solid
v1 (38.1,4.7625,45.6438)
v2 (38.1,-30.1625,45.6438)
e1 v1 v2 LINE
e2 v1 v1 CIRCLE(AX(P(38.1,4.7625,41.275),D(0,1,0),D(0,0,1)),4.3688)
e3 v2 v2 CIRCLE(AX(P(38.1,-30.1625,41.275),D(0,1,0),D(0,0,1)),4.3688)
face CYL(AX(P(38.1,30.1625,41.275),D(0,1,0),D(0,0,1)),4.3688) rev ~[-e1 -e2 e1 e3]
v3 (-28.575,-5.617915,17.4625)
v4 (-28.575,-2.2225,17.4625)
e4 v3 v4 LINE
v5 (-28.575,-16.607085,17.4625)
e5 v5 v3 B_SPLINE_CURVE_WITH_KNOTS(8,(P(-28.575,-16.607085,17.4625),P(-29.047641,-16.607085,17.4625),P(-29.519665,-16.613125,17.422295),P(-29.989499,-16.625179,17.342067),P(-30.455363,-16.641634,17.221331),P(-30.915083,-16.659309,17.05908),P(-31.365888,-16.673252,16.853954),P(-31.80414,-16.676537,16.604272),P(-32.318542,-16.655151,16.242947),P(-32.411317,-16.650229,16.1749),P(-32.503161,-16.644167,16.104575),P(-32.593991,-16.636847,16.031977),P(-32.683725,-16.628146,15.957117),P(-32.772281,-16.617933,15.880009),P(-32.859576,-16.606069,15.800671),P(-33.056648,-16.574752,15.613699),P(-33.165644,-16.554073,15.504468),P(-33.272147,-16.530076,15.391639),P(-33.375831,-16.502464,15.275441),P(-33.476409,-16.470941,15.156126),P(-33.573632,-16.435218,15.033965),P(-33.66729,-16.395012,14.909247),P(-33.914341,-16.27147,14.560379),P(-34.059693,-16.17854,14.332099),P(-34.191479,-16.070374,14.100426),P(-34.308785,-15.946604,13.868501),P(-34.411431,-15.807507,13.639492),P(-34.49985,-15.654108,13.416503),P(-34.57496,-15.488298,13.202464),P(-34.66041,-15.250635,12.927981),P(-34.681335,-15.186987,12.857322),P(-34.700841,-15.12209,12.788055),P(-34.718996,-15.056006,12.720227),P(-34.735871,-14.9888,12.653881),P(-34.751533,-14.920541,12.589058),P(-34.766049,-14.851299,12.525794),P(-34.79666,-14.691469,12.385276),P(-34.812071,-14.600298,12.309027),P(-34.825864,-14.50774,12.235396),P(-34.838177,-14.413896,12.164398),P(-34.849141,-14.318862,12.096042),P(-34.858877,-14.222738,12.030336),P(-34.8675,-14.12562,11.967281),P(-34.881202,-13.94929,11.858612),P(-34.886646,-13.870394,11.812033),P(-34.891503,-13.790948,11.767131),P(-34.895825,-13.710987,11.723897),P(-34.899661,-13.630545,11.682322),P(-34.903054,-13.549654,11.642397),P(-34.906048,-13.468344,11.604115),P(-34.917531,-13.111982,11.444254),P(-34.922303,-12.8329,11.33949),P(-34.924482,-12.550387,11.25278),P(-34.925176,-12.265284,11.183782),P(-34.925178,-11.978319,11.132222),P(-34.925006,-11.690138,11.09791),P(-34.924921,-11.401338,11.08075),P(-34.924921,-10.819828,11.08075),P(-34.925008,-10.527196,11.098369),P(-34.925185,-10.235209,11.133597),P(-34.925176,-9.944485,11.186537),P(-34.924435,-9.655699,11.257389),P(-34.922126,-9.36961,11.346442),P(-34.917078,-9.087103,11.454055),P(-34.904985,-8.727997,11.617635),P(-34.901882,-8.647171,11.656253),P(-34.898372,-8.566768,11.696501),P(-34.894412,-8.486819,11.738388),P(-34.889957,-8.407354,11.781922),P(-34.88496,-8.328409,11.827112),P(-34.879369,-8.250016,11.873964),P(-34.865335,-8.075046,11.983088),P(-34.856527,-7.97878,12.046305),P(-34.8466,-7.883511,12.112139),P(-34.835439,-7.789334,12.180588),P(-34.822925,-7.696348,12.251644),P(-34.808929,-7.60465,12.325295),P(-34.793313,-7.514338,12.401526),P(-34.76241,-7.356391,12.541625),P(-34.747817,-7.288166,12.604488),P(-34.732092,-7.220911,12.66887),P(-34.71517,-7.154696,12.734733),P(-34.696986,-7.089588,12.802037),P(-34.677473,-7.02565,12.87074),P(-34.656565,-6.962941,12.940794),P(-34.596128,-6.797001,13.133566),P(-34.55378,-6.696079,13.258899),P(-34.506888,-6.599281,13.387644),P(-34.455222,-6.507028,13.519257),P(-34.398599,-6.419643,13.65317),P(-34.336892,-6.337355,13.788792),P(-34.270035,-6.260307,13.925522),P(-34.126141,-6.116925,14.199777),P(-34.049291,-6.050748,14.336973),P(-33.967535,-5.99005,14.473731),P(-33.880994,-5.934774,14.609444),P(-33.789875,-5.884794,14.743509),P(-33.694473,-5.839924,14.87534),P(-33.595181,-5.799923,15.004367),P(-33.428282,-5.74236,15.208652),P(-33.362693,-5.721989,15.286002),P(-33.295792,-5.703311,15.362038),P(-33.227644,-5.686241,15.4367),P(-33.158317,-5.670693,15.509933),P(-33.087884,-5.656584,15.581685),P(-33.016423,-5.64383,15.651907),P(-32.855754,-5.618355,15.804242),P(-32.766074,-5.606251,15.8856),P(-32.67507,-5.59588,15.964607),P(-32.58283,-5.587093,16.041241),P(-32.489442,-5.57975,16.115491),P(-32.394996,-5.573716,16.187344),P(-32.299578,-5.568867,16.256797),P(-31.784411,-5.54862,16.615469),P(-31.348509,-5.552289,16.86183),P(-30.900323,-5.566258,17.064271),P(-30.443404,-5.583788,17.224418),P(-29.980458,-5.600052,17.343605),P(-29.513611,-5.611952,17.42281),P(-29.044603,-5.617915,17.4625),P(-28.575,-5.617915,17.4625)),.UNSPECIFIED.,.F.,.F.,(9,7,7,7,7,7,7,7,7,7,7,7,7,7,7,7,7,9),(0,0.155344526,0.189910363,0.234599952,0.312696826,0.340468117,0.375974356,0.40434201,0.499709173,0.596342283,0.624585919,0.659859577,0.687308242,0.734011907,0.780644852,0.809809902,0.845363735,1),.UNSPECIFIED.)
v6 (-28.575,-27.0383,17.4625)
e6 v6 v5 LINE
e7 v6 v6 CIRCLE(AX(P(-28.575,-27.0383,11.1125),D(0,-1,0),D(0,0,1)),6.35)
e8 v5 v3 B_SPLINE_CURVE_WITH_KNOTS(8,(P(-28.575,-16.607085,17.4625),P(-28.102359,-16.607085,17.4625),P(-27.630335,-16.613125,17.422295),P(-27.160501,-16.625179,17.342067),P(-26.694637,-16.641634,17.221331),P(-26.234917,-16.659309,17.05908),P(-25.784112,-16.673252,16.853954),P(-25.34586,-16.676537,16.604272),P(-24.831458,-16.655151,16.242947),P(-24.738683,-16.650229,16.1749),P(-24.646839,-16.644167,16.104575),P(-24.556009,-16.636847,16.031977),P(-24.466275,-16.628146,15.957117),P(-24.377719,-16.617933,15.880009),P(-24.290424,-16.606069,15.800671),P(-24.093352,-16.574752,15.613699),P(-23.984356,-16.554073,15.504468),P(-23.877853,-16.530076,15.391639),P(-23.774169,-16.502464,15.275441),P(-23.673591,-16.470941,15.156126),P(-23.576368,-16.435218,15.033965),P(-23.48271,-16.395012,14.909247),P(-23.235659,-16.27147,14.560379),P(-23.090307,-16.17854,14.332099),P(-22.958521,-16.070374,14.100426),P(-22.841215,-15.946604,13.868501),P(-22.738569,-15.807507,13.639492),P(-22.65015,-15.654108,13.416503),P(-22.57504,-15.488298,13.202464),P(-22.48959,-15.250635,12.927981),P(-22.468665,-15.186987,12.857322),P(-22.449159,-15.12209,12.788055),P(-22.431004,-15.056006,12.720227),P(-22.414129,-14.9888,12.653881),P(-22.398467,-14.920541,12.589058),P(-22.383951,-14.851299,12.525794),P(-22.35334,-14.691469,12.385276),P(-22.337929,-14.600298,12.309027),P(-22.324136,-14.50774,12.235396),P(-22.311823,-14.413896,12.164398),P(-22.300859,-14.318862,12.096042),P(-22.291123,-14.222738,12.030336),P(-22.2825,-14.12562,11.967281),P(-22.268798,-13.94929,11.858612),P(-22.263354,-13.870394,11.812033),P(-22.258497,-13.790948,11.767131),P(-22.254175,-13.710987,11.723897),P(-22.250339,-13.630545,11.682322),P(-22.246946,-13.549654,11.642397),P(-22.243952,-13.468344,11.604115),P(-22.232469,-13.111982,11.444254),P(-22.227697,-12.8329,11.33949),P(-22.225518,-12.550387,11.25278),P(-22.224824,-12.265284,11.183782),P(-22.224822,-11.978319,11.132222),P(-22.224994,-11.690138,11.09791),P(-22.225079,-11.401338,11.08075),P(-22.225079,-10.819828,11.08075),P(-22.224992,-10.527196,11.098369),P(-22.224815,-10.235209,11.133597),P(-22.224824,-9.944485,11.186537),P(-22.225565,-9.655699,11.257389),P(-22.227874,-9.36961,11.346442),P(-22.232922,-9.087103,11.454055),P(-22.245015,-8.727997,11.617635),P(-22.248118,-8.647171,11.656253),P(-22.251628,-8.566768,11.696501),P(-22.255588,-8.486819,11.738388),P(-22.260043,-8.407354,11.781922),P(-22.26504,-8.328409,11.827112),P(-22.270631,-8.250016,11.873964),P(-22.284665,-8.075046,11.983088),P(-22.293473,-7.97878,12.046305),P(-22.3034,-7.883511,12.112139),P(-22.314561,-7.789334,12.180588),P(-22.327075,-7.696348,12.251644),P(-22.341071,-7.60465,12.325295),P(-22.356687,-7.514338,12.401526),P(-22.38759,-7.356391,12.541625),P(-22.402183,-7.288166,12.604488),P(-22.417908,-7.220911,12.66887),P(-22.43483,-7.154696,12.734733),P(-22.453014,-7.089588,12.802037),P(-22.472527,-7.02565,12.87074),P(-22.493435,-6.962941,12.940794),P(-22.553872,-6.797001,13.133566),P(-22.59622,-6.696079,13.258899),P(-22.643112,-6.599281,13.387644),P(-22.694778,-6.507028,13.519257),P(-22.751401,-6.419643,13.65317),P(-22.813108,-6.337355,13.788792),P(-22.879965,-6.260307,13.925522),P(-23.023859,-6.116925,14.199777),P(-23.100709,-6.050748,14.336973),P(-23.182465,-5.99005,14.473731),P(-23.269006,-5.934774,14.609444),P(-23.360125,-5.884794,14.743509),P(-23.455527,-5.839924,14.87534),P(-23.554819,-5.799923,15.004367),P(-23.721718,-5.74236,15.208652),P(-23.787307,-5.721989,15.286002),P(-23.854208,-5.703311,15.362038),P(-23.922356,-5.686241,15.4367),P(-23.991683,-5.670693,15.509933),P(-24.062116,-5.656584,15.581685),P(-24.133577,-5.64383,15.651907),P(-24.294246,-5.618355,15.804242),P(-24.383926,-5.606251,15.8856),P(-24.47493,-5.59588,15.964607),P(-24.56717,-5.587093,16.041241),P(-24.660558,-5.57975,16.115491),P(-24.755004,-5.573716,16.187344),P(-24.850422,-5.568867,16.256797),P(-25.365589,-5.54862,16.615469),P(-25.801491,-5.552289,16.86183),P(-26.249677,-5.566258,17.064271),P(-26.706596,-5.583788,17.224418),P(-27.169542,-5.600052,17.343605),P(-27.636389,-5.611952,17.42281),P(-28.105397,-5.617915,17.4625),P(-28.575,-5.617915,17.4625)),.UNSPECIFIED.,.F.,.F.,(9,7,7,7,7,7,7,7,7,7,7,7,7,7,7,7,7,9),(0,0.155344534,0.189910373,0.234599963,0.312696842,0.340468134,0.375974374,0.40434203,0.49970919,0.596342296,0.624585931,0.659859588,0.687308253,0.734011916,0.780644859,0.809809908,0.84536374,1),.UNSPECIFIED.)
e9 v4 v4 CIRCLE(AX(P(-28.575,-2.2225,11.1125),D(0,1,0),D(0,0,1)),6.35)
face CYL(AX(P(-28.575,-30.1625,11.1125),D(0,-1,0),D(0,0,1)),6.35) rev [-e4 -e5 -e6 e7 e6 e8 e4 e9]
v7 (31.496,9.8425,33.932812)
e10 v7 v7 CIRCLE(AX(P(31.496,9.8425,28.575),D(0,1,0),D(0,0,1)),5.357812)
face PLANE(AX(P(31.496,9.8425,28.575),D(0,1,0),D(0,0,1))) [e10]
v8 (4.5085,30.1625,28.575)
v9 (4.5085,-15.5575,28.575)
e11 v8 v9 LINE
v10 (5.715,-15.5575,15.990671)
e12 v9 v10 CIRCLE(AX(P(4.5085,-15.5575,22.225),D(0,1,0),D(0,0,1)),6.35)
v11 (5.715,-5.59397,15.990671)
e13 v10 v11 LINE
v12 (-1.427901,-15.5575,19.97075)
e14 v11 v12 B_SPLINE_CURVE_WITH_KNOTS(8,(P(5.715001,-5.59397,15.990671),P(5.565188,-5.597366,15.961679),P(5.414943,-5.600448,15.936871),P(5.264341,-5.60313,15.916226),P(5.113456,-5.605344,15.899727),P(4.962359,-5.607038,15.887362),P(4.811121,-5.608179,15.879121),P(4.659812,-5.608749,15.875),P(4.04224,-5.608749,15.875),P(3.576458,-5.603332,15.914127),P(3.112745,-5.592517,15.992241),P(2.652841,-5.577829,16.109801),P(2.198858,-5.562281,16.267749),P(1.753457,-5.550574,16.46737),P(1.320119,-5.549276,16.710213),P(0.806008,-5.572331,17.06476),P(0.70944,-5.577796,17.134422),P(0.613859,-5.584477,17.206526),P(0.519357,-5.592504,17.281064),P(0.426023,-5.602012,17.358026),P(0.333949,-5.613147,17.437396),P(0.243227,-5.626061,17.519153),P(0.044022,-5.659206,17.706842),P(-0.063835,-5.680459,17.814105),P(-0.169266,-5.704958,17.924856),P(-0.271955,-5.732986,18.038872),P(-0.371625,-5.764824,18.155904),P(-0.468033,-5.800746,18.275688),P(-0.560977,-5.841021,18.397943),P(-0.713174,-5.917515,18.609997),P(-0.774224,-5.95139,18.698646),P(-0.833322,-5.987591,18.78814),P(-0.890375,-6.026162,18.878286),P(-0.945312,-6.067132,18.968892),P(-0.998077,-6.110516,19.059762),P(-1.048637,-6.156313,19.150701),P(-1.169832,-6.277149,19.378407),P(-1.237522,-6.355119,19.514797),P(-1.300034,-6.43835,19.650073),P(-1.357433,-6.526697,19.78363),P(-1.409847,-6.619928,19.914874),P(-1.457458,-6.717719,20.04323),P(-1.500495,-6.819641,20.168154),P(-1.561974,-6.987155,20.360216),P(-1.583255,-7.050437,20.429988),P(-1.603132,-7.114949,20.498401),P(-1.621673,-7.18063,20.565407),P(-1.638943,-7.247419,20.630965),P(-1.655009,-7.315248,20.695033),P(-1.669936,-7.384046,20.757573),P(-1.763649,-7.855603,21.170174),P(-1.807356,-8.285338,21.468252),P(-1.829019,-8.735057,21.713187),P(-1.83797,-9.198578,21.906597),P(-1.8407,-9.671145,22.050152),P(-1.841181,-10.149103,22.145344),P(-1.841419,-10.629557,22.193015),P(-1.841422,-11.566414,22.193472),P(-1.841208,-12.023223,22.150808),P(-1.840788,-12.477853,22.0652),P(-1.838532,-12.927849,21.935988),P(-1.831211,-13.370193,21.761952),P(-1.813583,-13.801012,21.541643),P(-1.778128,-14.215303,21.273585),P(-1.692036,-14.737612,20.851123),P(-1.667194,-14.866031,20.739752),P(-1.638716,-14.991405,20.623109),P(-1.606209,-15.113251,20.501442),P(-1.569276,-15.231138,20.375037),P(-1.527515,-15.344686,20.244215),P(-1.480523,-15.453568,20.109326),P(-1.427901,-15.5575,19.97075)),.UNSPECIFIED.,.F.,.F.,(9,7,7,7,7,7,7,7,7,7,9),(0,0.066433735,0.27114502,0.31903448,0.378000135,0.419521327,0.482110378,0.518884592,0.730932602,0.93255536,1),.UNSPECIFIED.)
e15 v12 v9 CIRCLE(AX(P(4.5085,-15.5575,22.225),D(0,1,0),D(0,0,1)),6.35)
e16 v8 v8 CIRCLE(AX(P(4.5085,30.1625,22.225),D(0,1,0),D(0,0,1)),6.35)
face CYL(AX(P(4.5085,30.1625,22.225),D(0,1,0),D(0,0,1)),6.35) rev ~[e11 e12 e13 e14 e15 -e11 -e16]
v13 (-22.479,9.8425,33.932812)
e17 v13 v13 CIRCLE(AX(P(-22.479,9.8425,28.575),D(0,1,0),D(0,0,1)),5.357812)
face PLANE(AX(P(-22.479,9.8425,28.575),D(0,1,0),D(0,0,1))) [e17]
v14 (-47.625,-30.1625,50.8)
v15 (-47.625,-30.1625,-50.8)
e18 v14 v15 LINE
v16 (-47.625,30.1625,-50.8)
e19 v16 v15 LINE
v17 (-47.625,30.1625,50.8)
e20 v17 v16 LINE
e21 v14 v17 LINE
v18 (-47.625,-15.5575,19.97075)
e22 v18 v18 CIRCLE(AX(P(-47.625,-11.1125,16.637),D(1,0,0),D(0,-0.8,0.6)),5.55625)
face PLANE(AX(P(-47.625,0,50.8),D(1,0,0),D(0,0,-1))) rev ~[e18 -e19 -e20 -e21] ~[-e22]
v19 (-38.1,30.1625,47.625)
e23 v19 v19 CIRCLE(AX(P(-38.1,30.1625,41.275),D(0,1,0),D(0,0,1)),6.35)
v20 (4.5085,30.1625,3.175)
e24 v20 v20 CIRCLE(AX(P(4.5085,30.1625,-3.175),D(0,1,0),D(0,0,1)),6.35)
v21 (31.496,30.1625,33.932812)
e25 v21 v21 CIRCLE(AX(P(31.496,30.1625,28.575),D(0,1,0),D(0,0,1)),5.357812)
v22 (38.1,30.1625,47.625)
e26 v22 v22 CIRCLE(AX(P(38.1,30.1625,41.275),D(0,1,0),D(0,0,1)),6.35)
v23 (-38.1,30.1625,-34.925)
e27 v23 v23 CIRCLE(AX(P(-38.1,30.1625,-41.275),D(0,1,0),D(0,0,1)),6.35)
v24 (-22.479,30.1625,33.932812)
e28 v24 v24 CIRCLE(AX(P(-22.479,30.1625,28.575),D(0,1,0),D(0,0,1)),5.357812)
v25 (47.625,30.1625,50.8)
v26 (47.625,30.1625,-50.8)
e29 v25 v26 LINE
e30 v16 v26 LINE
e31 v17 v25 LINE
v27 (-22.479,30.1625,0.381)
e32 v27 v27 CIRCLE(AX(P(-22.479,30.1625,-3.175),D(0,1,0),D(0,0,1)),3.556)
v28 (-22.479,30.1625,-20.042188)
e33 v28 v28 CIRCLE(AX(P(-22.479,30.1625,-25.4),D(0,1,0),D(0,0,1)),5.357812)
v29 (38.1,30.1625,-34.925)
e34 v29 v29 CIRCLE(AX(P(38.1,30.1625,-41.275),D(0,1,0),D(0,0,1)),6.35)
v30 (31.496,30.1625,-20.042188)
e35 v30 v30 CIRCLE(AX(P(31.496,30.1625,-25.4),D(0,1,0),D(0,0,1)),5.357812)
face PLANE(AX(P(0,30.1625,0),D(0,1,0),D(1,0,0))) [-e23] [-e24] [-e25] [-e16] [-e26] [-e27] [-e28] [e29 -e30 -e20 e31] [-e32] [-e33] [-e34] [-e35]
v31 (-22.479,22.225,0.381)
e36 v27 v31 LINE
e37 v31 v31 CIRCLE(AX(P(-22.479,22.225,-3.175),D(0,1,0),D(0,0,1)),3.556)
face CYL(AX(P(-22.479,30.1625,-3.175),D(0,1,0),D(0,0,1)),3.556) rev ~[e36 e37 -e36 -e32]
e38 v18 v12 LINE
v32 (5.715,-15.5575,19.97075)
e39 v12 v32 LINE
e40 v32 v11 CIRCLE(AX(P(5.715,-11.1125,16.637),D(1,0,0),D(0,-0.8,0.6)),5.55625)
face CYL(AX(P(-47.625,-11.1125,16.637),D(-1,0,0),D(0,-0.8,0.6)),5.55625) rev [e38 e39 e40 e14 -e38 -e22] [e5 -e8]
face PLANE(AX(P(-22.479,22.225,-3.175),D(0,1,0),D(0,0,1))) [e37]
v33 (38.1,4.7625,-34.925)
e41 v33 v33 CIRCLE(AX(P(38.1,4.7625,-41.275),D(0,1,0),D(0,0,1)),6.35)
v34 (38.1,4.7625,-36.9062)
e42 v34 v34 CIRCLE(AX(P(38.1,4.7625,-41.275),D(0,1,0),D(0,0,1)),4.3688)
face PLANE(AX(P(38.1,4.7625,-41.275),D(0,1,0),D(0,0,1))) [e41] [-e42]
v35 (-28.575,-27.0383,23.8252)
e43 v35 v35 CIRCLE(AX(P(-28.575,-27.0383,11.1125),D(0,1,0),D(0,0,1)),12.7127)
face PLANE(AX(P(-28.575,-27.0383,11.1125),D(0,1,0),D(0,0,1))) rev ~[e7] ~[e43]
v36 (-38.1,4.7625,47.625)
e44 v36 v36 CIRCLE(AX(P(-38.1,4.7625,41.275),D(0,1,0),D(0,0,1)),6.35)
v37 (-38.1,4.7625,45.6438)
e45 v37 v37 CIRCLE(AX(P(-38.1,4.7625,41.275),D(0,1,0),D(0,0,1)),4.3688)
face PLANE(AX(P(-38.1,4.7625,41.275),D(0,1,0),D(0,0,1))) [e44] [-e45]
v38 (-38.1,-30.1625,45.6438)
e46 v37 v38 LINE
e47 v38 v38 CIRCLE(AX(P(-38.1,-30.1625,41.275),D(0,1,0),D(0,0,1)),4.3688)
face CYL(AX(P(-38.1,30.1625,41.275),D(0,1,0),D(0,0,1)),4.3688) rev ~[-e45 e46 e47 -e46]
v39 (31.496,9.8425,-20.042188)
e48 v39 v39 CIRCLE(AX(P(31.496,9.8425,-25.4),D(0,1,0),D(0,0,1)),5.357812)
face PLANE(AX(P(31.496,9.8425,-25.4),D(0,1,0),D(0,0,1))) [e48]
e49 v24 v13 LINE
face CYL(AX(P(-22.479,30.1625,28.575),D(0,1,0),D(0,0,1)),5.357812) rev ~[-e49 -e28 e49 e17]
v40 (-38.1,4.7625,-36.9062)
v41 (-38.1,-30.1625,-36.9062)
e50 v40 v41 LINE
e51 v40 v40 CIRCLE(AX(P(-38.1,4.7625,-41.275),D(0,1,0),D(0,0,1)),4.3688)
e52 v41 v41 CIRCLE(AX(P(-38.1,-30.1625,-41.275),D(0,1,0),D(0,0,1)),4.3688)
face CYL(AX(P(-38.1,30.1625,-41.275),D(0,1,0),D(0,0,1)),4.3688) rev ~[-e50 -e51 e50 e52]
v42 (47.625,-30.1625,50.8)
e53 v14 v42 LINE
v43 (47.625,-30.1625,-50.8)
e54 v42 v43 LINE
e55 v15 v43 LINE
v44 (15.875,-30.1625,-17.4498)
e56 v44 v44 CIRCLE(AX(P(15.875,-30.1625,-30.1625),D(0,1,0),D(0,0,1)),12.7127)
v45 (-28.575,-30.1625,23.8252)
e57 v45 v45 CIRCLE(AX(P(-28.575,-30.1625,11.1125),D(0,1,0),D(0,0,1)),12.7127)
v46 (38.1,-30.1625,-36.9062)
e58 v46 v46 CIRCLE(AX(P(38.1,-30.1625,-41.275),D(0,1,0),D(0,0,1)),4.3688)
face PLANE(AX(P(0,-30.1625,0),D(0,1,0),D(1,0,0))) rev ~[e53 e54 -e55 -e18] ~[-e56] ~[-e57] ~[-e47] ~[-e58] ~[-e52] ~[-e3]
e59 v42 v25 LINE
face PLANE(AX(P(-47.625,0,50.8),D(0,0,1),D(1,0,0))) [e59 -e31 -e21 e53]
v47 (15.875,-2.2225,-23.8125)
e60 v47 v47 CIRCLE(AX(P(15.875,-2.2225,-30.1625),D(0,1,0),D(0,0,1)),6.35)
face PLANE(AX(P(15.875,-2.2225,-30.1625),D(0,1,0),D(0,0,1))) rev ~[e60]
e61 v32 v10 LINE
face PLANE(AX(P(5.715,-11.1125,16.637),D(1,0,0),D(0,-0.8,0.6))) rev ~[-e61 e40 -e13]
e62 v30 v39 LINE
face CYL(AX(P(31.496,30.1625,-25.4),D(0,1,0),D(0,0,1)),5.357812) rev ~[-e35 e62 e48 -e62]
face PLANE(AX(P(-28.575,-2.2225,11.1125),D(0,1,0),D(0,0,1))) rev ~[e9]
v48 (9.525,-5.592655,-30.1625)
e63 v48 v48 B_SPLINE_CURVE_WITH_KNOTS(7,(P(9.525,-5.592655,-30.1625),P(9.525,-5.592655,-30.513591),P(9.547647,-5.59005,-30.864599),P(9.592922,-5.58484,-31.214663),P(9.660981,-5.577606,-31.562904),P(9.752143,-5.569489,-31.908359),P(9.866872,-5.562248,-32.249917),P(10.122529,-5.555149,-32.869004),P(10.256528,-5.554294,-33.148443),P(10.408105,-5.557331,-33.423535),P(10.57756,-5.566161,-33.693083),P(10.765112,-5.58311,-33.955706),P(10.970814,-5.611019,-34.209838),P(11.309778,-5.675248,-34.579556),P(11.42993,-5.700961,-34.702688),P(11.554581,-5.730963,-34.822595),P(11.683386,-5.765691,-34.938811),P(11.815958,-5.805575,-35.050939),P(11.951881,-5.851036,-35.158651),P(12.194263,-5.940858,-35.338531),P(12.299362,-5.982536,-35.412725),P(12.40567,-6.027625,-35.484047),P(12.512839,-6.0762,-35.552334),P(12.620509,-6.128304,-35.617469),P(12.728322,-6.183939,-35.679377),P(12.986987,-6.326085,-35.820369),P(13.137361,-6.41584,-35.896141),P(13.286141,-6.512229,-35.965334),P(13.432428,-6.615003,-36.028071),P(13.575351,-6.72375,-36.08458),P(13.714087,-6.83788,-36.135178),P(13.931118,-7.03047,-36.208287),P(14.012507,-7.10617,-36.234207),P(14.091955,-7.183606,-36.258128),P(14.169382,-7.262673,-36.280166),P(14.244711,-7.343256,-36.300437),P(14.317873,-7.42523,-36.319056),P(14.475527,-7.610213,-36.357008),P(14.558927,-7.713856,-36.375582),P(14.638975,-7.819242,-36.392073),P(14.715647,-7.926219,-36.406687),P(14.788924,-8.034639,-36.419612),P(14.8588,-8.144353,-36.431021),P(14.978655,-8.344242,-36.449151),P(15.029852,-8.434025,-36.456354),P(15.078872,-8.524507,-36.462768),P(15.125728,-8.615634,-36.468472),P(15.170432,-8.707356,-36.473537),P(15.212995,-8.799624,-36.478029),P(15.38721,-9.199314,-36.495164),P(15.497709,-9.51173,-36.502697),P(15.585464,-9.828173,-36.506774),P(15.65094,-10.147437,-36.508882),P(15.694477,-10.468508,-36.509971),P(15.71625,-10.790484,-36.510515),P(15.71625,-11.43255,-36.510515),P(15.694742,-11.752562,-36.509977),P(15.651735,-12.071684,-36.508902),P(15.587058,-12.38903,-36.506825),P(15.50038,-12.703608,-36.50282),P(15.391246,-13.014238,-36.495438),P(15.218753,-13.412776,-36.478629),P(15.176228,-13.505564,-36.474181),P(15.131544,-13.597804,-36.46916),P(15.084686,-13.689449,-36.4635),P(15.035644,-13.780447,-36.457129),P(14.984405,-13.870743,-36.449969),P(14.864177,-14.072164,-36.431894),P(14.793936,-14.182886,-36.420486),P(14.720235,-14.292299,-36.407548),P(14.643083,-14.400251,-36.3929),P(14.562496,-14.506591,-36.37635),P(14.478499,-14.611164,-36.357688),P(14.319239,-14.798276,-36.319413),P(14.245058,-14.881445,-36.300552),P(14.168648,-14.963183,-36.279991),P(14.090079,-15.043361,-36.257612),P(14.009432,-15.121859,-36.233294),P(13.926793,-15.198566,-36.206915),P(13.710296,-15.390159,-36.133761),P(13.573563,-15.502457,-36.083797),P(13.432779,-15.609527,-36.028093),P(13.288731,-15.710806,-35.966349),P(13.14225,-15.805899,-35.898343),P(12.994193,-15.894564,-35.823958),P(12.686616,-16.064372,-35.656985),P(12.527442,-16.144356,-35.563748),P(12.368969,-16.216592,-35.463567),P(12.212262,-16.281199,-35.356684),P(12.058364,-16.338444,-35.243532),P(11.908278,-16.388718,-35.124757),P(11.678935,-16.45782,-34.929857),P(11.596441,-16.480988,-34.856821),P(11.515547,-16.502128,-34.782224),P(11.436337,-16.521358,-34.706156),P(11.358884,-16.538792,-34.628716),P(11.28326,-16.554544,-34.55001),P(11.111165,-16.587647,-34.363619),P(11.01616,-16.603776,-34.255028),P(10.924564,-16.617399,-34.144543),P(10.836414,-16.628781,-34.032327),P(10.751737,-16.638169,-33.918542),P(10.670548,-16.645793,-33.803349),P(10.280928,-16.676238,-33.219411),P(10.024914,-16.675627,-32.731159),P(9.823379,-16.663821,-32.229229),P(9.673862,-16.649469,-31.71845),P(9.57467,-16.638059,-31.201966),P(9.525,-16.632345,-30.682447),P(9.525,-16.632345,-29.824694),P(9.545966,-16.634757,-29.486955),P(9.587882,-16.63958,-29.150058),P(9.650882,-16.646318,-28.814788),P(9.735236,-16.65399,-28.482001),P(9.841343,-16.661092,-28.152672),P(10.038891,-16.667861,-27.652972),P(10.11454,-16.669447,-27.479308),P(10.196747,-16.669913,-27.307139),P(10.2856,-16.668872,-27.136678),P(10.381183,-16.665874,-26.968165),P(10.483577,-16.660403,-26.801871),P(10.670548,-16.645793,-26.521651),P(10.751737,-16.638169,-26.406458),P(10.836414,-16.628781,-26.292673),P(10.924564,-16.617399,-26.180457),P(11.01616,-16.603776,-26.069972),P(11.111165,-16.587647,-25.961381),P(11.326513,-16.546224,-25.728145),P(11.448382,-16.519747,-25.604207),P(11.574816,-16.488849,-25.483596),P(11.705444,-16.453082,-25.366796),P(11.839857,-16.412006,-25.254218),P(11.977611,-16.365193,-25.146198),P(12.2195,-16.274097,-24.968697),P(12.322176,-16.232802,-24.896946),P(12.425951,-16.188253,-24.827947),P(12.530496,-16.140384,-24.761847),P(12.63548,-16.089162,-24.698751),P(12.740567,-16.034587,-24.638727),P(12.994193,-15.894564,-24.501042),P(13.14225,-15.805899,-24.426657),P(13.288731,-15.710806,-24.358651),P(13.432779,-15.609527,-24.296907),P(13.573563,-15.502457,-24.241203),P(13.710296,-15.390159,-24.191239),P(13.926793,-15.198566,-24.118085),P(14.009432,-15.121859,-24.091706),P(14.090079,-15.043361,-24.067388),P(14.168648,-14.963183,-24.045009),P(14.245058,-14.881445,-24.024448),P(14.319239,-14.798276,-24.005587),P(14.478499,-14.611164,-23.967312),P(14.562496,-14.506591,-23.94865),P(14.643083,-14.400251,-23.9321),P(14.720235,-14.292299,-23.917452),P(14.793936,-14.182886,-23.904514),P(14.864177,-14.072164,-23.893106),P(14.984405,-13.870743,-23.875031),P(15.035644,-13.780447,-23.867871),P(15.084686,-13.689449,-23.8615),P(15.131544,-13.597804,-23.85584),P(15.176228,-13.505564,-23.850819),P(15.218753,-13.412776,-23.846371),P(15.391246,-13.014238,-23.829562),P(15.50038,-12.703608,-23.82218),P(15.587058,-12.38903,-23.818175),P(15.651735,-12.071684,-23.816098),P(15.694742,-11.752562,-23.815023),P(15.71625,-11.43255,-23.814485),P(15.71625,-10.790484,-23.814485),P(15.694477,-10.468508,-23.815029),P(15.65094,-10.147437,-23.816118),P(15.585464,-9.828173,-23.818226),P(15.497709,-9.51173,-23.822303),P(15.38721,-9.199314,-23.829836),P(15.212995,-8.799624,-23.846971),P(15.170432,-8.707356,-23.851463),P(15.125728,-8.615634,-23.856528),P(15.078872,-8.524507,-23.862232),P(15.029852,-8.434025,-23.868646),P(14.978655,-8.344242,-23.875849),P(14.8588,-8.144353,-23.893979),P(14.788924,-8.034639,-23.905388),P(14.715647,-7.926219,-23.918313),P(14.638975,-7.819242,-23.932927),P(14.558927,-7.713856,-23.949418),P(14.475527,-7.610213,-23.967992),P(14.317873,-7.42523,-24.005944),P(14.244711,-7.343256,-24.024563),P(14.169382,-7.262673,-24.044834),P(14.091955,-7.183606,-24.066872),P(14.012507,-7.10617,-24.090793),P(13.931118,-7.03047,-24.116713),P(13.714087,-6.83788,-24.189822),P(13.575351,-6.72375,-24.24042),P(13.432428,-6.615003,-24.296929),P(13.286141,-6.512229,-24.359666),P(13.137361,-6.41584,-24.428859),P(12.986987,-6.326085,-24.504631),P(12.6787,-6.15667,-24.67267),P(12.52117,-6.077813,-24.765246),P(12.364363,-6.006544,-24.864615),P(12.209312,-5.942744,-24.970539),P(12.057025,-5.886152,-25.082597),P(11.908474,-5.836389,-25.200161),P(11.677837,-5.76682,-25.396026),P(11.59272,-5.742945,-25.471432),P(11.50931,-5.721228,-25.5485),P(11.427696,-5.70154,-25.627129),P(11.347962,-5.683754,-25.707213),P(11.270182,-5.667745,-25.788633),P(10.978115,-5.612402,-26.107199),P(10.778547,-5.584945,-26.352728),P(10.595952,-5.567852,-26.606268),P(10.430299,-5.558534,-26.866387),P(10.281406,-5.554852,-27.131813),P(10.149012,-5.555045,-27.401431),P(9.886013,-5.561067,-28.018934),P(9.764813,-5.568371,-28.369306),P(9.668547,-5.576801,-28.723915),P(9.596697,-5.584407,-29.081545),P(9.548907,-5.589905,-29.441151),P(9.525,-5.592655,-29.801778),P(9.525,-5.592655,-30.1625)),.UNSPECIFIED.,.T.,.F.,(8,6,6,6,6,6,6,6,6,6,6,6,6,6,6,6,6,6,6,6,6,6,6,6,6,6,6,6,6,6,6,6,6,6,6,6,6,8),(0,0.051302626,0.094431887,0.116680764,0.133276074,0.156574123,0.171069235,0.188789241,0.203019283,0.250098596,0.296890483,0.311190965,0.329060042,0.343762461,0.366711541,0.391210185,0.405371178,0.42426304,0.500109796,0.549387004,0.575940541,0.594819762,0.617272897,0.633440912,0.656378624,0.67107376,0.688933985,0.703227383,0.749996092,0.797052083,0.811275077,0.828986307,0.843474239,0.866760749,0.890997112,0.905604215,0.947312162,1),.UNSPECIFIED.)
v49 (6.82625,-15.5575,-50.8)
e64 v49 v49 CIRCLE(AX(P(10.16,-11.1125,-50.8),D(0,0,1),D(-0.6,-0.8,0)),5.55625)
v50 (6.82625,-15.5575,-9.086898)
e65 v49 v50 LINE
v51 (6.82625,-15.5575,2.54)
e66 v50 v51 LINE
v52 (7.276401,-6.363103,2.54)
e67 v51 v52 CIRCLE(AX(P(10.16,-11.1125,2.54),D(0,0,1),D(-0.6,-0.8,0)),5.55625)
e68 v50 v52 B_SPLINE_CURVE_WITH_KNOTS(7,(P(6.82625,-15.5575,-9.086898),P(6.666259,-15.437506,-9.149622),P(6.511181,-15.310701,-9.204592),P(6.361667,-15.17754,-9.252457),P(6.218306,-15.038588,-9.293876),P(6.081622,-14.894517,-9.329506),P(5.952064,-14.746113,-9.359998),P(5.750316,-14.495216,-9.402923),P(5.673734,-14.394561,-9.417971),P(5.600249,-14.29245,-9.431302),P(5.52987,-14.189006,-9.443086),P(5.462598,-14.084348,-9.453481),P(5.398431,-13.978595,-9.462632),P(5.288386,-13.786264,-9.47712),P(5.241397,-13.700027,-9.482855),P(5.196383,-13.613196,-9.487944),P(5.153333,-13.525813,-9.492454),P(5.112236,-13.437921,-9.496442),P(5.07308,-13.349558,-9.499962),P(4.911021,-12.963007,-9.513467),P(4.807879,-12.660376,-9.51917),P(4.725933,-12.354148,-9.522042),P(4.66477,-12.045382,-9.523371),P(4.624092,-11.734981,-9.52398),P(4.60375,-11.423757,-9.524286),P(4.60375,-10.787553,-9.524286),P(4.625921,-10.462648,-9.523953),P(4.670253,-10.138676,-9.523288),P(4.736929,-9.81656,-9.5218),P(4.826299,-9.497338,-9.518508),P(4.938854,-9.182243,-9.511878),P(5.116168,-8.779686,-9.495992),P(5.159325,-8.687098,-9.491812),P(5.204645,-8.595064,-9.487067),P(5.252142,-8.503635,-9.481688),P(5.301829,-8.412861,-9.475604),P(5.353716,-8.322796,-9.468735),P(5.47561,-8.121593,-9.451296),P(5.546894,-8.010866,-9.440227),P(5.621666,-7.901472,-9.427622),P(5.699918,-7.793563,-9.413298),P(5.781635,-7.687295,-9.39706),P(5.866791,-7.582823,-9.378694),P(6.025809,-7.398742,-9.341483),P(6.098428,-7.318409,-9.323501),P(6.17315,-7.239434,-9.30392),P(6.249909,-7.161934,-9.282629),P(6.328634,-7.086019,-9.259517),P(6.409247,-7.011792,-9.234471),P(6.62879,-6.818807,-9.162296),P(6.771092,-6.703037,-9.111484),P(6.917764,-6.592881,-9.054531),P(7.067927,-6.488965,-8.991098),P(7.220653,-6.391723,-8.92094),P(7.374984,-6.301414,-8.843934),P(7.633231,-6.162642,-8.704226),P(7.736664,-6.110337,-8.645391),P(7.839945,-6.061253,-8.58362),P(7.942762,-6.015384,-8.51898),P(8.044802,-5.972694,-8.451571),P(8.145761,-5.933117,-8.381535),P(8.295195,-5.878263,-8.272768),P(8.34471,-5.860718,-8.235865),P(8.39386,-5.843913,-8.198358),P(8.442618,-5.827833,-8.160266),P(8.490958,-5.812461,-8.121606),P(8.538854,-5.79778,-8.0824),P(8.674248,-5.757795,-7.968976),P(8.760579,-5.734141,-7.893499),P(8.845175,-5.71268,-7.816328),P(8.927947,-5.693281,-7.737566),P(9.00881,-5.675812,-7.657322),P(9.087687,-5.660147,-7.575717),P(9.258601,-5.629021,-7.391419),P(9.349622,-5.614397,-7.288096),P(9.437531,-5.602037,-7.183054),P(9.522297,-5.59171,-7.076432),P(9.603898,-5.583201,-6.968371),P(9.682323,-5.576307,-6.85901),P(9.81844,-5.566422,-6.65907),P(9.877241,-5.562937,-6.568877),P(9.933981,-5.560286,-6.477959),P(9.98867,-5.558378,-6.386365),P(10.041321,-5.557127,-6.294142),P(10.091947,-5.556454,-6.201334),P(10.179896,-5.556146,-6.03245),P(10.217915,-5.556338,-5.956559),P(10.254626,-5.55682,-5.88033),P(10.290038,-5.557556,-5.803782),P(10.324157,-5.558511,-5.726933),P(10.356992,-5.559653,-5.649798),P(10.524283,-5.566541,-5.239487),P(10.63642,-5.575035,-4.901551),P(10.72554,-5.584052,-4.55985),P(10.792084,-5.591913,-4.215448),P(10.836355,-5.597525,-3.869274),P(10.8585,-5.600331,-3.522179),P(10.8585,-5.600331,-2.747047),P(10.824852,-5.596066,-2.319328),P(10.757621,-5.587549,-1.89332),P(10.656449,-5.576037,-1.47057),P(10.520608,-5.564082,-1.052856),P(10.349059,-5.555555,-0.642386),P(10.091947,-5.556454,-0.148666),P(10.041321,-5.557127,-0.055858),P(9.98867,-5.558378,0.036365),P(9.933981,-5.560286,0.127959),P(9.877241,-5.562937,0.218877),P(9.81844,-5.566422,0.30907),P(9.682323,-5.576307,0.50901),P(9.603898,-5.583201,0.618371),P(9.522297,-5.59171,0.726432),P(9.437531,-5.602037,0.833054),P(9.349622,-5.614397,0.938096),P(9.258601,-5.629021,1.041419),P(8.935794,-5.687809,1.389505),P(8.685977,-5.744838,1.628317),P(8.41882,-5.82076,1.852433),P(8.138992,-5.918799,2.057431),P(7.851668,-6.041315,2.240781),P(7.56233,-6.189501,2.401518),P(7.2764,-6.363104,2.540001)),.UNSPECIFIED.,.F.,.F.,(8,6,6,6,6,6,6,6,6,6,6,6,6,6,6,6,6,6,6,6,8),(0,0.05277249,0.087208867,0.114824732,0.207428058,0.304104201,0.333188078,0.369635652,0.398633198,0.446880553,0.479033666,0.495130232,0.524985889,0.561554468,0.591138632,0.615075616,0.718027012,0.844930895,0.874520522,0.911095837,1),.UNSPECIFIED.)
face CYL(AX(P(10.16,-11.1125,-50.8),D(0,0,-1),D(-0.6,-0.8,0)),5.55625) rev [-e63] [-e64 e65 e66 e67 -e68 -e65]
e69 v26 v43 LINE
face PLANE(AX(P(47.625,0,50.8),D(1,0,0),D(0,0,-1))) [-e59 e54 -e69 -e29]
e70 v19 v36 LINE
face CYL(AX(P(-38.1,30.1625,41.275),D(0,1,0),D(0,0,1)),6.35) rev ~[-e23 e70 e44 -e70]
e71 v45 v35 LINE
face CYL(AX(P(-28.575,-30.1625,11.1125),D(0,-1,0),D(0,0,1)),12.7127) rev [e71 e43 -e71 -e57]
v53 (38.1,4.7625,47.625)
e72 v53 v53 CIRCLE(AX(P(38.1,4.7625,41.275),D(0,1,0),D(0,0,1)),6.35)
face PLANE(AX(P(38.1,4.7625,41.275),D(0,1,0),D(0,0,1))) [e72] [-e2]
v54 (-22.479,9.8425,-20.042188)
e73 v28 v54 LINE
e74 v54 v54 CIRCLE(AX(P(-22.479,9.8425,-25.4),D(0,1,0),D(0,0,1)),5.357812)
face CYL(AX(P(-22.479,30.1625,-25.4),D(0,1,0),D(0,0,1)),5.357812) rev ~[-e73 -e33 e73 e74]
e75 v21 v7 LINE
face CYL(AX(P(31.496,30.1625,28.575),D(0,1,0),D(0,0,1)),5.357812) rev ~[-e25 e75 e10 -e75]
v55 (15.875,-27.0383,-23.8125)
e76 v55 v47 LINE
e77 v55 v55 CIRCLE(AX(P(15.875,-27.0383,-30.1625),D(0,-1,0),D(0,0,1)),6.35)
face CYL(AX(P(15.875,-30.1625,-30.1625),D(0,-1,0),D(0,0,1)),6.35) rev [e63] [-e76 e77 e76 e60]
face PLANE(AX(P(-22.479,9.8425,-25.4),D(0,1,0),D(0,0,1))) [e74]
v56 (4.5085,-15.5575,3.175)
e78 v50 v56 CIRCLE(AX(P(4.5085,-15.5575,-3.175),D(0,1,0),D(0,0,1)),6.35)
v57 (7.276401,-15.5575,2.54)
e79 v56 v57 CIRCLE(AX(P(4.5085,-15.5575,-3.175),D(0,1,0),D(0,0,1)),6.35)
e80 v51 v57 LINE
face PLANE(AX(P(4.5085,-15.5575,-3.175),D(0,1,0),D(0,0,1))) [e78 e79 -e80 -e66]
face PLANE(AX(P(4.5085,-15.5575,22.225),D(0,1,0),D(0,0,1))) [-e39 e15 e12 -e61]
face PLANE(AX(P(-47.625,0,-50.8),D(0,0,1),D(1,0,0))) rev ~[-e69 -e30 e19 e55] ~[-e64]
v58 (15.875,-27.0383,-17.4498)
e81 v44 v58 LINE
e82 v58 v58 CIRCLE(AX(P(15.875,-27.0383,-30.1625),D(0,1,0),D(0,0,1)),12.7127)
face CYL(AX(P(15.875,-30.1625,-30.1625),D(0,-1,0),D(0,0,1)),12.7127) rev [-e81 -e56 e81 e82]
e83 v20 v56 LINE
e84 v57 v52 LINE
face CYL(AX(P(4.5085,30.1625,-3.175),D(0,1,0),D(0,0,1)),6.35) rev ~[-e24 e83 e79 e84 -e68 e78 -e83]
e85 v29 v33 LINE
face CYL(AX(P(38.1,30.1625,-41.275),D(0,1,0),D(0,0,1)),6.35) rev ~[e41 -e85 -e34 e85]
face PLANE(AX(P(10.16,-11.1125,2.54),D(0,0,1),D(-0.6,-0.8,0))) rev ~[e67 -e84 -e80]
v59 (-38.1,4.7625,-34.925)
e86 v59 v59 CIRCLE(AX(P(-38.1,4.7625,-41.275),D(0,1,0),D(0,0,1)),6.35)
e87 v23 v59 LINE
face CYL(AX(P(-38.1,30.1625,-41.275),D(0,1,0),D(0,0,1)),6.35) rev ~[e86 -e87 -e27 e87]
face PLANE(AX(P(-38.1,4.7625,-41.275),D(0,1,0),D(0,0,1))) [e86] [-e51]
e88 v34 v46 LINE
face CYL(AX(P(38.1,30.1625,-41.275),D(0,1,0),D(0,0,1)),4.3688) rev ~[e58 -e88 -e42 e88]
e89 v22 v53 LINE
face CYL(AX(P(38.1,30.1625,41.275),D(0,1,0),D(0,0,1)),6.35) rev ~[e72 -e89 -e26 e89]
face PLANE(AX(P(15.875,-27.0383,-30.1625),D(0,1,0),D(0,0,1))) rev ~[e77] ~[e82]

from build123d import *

# Parameters (mm, degrees)
SKETCH1_W           = 95.25
SKETCH1_H           = 101.6
BOSS_EXTRUDE1_DEPTH = 30.1625
CUT_EXTRUDE2_START  = 30.1625
SKETCH2_R           = 4.3688
CUT_EXTRUDE2_DEPTH  = 101.6
CUT_EXTRUDE4_START  = 30.1625
SKETCH3_R           = 6.35
CUT_EXTRUDE4_DEPTH  = 25.4
CUT_EXTRUDE6_START  = 30.1625
SKETCH4_R           = 5.3578125
CUT_EXTRUDE6_DEPTH  = 20.32
CUT_EXTRUDE8_START  = 30.1625
SKETCH5_R           = 6.35
CUT_EXTRUDE8_DEPTH  = 45.72
CUT_EXTRUDE10_START = 30.1625
SKETCH6_R           = 3.556
CUT_EXTRUDE10_DEPTH = 7.9375
CUT_EXTRUDE12_START = -47.625
SKETCH7_R           = 5.55625
CUT_EXTRUDE12_DEPTH = 53.34
CUT_EXTRUDE14_START = -50.8
SKETCH8_R           = 5.55625
CUT_EXTRUDE14_DEPTH = 53.34
CUT_EXTRUDE16_START = -30.1625
SKETCH9_R           = 6.35
CUT_EXTRUDE16_DEPTH = 27.94
CUT_EXTRUDE18_START = -30.1625
SKETCH10_R          = 12.7127
CUT_EXTRUDE18_DEPTH = 3.1242


with BuildPart() as part:
    # Sketch1 → Boss-Extrude1 (new, symmetric)
    with BuildSketch(Plane(origin=(0, 0, 0), x_dir=(1, 0, 0), z_dir=(0, 1, 0))):
        Rectangle(SKETCH1_W, SKETCH1_H)
    extrude(amount=BOSS_EXTRUDE1_DEPTH, both=True)

    # Sketch2 → Cut-Extrude2 (cut)
    with BuildSketch(Plane(origin=(0, 0, 0), x_dir=(1, 0, 0), z_dir=(0, 1, 0)).offset(CUT_EXTRUDE2_START)):
        with Locations(Location((-38.1, -41.275, 0), (0, 0, 270))):
            Circle(SKETCH2_R)
        with Locations(Location((38.1, -41.275, 0), (0, 0, 270))):
            Circle(SKETCH2_R)
        with Locations(Location((-38.1, 41.275, 0), (0, 0, 270))):
            Circle(SKETCH2_R)
        with Locations(Location((38.1, 41.275, 0), (0, 0, 270))):
            Circle(SKETCH2_R)
    extrude(amount=-CUT_EXTRUDE2_DEPTH, mode=Mode.SUBTRACT)

    # Sketch3 → Cut-Extrude4 (cut)
    with BuildSketch(Plane(origin=(0, 0, 0), x_dir=(1, 0, 0), z_dir=(0, 1, 0)).offset(CUT_EXTRUDE4_START)):
        with Locations(Location((-38.1, -41.275, 0), (0, 0, 270))):
            Circle(SKETCH3_R)
        with Locations(Location((38.1, -41.275, 0), (0, 0, 270))):
            Circle(SKETCH3_R)
        with Locations(Location((-38.1, 41.275, 0), (0, 0, 270))):
            Circle(SKETCH3_R)
        with Locations(Location((38.1, 41.275, 0), (0, 0, 270))):
            Circle(SKETCH3_R)
    extrude(amount=-CUT_EXTRUDE4_DEPTH, mode=Mode.SUBTRACT)

    # Sketch4 → Cut-Extrude6 (cut)
    with BuildSketch(Plane(origin=(0, 0, 0), x_dir=(1, 0, 0), z_dir=(0, 1, 0)).offset(CUT_EXTRUDE6_START)):
        with Locations(Location((-22.479, -28.575, 0), (0, 0, 270))):
            Circle(SKETCH4_R)
        with Locations(Location((31.496, -28.575, 0), (0, 0, 270))):
            Circle(SKETCH4_R)
        with Locations(Location((-22.479, 25.4, 0), (0, 0, 270))):
            Circle(SKETCH4_R)
        with Locations(Location((31.496, 25.4, 0), (0, 0, 270))):
            Circle(SKETCH4_R)
    extrude(amount=-CUT_EXTRUDE6_DEPTH, mode=Mode.SUBTRACT)

    # Sketch5 → Cut-Extrude8 (cut)
    with BuildSketch(Plane(origin=(0, 0, 0), x_dir=(1, 0, 0), z_dir=(0, 1, 0)).offset(CUT_EXTRUDE8_START)):
        with Locations(Location((4.5085, -22.225, 0), (0, 0, 270))):
            Circle(SKETCH5_R)
        with Locations(Location((4.5085, 3.175, 0), (0, 0, 270))):
            Circle(SKETCH5_R)
    extrude(amount=-CUT_EXTRUDE8_DEPTH, mode=Mode.SUBTRACT)

    # Sketch6 → Cut-Extrude10 (cut)
    with BuildSketch(Plane(origin=(0, 0, 0), x_dir=(1, 0, 0), z_dir=(0, 1, 0)).offset(CUT_EXTRUDE10_START)):
        with Locations(Location((-22.479, 3.175, 0), (0, 0, 270))):
            Circle(SKETCH6_R)
    extrude(amount=-CUT_EXTRUDE10_DEPTH, mode=Mode.SUBTRACT)

    # Sketch7 → Cut-Extrude12 (cut)
    with BuildSketch(Plane(origin=(0, 0, 0), x_dir=(0, 0, -1), z_dir=(1, 0, 0)).offset(CUT_EXTRUDE12_START)):
        with Locations(Location((-16.637, -11.1125, 0), (0, 0, 233.130102354))):
            Circle(SKETCH7_R)
    extrude(amount=CUT_EXTRUDE12_DEPTH, mode=Mode.SUBTRACT)

    # Sketch8 → Cut-Extrude14 (cut)
    with BuildSketch(Plane.XY.offset(CUT_EXTRUDE14_START)):
        with Locations(Location((10.16, -11.1125, 0), (0, 0, 233.130102354))):
            Circle(SKETCH8_R)
    extrude(amount=CUT_EXTRUDE14_DEPTH, mode=Mode.SUBTRACT)

    # Sketch9 → Cut-Extrude16 (cut)
    with BuildSketch(Plane(origin=(0, 0, 0), x_dir=(1, 0, 0), z_dir=(0, 1, 0)).offset(CUT_EXTRUDE16_START)):
        with Locations(Location((-28.575, -11.1125, 0), (0, 0, 270))):
            Circle(SKETCH9_R)
        with Locations(Location((15.875, 30.1625, 0), (0, 0, 270))):
            Circle(SKETCH9_R)
    extrude(amount=CUT_EXTRUDE16_DEPTH, mode=Mode.SUBTRACT)

    # Sketch10 → Cut-Extrude18 (cut)
    with BuildSketch(Plane(origin=(0, 0, 0), x_dir=(1, 0, 0), z_dir=(0, 1, 0)).offset(CUT_EXTRUDE18_START)):
        with Locations(Location((-28.575, -11.1125, 0), (0, 0, 270))):
            Circle(SKETCH10_R)
        with Locations(Location((15.875, 30.1625, 0), (0, 0, 270))):
            Circle(SKETCH10_R)
    extrude(amount=CUT_EXTRUDE18_DEPTH, mode=Mode.SUBTRACT)


solid = part.part
